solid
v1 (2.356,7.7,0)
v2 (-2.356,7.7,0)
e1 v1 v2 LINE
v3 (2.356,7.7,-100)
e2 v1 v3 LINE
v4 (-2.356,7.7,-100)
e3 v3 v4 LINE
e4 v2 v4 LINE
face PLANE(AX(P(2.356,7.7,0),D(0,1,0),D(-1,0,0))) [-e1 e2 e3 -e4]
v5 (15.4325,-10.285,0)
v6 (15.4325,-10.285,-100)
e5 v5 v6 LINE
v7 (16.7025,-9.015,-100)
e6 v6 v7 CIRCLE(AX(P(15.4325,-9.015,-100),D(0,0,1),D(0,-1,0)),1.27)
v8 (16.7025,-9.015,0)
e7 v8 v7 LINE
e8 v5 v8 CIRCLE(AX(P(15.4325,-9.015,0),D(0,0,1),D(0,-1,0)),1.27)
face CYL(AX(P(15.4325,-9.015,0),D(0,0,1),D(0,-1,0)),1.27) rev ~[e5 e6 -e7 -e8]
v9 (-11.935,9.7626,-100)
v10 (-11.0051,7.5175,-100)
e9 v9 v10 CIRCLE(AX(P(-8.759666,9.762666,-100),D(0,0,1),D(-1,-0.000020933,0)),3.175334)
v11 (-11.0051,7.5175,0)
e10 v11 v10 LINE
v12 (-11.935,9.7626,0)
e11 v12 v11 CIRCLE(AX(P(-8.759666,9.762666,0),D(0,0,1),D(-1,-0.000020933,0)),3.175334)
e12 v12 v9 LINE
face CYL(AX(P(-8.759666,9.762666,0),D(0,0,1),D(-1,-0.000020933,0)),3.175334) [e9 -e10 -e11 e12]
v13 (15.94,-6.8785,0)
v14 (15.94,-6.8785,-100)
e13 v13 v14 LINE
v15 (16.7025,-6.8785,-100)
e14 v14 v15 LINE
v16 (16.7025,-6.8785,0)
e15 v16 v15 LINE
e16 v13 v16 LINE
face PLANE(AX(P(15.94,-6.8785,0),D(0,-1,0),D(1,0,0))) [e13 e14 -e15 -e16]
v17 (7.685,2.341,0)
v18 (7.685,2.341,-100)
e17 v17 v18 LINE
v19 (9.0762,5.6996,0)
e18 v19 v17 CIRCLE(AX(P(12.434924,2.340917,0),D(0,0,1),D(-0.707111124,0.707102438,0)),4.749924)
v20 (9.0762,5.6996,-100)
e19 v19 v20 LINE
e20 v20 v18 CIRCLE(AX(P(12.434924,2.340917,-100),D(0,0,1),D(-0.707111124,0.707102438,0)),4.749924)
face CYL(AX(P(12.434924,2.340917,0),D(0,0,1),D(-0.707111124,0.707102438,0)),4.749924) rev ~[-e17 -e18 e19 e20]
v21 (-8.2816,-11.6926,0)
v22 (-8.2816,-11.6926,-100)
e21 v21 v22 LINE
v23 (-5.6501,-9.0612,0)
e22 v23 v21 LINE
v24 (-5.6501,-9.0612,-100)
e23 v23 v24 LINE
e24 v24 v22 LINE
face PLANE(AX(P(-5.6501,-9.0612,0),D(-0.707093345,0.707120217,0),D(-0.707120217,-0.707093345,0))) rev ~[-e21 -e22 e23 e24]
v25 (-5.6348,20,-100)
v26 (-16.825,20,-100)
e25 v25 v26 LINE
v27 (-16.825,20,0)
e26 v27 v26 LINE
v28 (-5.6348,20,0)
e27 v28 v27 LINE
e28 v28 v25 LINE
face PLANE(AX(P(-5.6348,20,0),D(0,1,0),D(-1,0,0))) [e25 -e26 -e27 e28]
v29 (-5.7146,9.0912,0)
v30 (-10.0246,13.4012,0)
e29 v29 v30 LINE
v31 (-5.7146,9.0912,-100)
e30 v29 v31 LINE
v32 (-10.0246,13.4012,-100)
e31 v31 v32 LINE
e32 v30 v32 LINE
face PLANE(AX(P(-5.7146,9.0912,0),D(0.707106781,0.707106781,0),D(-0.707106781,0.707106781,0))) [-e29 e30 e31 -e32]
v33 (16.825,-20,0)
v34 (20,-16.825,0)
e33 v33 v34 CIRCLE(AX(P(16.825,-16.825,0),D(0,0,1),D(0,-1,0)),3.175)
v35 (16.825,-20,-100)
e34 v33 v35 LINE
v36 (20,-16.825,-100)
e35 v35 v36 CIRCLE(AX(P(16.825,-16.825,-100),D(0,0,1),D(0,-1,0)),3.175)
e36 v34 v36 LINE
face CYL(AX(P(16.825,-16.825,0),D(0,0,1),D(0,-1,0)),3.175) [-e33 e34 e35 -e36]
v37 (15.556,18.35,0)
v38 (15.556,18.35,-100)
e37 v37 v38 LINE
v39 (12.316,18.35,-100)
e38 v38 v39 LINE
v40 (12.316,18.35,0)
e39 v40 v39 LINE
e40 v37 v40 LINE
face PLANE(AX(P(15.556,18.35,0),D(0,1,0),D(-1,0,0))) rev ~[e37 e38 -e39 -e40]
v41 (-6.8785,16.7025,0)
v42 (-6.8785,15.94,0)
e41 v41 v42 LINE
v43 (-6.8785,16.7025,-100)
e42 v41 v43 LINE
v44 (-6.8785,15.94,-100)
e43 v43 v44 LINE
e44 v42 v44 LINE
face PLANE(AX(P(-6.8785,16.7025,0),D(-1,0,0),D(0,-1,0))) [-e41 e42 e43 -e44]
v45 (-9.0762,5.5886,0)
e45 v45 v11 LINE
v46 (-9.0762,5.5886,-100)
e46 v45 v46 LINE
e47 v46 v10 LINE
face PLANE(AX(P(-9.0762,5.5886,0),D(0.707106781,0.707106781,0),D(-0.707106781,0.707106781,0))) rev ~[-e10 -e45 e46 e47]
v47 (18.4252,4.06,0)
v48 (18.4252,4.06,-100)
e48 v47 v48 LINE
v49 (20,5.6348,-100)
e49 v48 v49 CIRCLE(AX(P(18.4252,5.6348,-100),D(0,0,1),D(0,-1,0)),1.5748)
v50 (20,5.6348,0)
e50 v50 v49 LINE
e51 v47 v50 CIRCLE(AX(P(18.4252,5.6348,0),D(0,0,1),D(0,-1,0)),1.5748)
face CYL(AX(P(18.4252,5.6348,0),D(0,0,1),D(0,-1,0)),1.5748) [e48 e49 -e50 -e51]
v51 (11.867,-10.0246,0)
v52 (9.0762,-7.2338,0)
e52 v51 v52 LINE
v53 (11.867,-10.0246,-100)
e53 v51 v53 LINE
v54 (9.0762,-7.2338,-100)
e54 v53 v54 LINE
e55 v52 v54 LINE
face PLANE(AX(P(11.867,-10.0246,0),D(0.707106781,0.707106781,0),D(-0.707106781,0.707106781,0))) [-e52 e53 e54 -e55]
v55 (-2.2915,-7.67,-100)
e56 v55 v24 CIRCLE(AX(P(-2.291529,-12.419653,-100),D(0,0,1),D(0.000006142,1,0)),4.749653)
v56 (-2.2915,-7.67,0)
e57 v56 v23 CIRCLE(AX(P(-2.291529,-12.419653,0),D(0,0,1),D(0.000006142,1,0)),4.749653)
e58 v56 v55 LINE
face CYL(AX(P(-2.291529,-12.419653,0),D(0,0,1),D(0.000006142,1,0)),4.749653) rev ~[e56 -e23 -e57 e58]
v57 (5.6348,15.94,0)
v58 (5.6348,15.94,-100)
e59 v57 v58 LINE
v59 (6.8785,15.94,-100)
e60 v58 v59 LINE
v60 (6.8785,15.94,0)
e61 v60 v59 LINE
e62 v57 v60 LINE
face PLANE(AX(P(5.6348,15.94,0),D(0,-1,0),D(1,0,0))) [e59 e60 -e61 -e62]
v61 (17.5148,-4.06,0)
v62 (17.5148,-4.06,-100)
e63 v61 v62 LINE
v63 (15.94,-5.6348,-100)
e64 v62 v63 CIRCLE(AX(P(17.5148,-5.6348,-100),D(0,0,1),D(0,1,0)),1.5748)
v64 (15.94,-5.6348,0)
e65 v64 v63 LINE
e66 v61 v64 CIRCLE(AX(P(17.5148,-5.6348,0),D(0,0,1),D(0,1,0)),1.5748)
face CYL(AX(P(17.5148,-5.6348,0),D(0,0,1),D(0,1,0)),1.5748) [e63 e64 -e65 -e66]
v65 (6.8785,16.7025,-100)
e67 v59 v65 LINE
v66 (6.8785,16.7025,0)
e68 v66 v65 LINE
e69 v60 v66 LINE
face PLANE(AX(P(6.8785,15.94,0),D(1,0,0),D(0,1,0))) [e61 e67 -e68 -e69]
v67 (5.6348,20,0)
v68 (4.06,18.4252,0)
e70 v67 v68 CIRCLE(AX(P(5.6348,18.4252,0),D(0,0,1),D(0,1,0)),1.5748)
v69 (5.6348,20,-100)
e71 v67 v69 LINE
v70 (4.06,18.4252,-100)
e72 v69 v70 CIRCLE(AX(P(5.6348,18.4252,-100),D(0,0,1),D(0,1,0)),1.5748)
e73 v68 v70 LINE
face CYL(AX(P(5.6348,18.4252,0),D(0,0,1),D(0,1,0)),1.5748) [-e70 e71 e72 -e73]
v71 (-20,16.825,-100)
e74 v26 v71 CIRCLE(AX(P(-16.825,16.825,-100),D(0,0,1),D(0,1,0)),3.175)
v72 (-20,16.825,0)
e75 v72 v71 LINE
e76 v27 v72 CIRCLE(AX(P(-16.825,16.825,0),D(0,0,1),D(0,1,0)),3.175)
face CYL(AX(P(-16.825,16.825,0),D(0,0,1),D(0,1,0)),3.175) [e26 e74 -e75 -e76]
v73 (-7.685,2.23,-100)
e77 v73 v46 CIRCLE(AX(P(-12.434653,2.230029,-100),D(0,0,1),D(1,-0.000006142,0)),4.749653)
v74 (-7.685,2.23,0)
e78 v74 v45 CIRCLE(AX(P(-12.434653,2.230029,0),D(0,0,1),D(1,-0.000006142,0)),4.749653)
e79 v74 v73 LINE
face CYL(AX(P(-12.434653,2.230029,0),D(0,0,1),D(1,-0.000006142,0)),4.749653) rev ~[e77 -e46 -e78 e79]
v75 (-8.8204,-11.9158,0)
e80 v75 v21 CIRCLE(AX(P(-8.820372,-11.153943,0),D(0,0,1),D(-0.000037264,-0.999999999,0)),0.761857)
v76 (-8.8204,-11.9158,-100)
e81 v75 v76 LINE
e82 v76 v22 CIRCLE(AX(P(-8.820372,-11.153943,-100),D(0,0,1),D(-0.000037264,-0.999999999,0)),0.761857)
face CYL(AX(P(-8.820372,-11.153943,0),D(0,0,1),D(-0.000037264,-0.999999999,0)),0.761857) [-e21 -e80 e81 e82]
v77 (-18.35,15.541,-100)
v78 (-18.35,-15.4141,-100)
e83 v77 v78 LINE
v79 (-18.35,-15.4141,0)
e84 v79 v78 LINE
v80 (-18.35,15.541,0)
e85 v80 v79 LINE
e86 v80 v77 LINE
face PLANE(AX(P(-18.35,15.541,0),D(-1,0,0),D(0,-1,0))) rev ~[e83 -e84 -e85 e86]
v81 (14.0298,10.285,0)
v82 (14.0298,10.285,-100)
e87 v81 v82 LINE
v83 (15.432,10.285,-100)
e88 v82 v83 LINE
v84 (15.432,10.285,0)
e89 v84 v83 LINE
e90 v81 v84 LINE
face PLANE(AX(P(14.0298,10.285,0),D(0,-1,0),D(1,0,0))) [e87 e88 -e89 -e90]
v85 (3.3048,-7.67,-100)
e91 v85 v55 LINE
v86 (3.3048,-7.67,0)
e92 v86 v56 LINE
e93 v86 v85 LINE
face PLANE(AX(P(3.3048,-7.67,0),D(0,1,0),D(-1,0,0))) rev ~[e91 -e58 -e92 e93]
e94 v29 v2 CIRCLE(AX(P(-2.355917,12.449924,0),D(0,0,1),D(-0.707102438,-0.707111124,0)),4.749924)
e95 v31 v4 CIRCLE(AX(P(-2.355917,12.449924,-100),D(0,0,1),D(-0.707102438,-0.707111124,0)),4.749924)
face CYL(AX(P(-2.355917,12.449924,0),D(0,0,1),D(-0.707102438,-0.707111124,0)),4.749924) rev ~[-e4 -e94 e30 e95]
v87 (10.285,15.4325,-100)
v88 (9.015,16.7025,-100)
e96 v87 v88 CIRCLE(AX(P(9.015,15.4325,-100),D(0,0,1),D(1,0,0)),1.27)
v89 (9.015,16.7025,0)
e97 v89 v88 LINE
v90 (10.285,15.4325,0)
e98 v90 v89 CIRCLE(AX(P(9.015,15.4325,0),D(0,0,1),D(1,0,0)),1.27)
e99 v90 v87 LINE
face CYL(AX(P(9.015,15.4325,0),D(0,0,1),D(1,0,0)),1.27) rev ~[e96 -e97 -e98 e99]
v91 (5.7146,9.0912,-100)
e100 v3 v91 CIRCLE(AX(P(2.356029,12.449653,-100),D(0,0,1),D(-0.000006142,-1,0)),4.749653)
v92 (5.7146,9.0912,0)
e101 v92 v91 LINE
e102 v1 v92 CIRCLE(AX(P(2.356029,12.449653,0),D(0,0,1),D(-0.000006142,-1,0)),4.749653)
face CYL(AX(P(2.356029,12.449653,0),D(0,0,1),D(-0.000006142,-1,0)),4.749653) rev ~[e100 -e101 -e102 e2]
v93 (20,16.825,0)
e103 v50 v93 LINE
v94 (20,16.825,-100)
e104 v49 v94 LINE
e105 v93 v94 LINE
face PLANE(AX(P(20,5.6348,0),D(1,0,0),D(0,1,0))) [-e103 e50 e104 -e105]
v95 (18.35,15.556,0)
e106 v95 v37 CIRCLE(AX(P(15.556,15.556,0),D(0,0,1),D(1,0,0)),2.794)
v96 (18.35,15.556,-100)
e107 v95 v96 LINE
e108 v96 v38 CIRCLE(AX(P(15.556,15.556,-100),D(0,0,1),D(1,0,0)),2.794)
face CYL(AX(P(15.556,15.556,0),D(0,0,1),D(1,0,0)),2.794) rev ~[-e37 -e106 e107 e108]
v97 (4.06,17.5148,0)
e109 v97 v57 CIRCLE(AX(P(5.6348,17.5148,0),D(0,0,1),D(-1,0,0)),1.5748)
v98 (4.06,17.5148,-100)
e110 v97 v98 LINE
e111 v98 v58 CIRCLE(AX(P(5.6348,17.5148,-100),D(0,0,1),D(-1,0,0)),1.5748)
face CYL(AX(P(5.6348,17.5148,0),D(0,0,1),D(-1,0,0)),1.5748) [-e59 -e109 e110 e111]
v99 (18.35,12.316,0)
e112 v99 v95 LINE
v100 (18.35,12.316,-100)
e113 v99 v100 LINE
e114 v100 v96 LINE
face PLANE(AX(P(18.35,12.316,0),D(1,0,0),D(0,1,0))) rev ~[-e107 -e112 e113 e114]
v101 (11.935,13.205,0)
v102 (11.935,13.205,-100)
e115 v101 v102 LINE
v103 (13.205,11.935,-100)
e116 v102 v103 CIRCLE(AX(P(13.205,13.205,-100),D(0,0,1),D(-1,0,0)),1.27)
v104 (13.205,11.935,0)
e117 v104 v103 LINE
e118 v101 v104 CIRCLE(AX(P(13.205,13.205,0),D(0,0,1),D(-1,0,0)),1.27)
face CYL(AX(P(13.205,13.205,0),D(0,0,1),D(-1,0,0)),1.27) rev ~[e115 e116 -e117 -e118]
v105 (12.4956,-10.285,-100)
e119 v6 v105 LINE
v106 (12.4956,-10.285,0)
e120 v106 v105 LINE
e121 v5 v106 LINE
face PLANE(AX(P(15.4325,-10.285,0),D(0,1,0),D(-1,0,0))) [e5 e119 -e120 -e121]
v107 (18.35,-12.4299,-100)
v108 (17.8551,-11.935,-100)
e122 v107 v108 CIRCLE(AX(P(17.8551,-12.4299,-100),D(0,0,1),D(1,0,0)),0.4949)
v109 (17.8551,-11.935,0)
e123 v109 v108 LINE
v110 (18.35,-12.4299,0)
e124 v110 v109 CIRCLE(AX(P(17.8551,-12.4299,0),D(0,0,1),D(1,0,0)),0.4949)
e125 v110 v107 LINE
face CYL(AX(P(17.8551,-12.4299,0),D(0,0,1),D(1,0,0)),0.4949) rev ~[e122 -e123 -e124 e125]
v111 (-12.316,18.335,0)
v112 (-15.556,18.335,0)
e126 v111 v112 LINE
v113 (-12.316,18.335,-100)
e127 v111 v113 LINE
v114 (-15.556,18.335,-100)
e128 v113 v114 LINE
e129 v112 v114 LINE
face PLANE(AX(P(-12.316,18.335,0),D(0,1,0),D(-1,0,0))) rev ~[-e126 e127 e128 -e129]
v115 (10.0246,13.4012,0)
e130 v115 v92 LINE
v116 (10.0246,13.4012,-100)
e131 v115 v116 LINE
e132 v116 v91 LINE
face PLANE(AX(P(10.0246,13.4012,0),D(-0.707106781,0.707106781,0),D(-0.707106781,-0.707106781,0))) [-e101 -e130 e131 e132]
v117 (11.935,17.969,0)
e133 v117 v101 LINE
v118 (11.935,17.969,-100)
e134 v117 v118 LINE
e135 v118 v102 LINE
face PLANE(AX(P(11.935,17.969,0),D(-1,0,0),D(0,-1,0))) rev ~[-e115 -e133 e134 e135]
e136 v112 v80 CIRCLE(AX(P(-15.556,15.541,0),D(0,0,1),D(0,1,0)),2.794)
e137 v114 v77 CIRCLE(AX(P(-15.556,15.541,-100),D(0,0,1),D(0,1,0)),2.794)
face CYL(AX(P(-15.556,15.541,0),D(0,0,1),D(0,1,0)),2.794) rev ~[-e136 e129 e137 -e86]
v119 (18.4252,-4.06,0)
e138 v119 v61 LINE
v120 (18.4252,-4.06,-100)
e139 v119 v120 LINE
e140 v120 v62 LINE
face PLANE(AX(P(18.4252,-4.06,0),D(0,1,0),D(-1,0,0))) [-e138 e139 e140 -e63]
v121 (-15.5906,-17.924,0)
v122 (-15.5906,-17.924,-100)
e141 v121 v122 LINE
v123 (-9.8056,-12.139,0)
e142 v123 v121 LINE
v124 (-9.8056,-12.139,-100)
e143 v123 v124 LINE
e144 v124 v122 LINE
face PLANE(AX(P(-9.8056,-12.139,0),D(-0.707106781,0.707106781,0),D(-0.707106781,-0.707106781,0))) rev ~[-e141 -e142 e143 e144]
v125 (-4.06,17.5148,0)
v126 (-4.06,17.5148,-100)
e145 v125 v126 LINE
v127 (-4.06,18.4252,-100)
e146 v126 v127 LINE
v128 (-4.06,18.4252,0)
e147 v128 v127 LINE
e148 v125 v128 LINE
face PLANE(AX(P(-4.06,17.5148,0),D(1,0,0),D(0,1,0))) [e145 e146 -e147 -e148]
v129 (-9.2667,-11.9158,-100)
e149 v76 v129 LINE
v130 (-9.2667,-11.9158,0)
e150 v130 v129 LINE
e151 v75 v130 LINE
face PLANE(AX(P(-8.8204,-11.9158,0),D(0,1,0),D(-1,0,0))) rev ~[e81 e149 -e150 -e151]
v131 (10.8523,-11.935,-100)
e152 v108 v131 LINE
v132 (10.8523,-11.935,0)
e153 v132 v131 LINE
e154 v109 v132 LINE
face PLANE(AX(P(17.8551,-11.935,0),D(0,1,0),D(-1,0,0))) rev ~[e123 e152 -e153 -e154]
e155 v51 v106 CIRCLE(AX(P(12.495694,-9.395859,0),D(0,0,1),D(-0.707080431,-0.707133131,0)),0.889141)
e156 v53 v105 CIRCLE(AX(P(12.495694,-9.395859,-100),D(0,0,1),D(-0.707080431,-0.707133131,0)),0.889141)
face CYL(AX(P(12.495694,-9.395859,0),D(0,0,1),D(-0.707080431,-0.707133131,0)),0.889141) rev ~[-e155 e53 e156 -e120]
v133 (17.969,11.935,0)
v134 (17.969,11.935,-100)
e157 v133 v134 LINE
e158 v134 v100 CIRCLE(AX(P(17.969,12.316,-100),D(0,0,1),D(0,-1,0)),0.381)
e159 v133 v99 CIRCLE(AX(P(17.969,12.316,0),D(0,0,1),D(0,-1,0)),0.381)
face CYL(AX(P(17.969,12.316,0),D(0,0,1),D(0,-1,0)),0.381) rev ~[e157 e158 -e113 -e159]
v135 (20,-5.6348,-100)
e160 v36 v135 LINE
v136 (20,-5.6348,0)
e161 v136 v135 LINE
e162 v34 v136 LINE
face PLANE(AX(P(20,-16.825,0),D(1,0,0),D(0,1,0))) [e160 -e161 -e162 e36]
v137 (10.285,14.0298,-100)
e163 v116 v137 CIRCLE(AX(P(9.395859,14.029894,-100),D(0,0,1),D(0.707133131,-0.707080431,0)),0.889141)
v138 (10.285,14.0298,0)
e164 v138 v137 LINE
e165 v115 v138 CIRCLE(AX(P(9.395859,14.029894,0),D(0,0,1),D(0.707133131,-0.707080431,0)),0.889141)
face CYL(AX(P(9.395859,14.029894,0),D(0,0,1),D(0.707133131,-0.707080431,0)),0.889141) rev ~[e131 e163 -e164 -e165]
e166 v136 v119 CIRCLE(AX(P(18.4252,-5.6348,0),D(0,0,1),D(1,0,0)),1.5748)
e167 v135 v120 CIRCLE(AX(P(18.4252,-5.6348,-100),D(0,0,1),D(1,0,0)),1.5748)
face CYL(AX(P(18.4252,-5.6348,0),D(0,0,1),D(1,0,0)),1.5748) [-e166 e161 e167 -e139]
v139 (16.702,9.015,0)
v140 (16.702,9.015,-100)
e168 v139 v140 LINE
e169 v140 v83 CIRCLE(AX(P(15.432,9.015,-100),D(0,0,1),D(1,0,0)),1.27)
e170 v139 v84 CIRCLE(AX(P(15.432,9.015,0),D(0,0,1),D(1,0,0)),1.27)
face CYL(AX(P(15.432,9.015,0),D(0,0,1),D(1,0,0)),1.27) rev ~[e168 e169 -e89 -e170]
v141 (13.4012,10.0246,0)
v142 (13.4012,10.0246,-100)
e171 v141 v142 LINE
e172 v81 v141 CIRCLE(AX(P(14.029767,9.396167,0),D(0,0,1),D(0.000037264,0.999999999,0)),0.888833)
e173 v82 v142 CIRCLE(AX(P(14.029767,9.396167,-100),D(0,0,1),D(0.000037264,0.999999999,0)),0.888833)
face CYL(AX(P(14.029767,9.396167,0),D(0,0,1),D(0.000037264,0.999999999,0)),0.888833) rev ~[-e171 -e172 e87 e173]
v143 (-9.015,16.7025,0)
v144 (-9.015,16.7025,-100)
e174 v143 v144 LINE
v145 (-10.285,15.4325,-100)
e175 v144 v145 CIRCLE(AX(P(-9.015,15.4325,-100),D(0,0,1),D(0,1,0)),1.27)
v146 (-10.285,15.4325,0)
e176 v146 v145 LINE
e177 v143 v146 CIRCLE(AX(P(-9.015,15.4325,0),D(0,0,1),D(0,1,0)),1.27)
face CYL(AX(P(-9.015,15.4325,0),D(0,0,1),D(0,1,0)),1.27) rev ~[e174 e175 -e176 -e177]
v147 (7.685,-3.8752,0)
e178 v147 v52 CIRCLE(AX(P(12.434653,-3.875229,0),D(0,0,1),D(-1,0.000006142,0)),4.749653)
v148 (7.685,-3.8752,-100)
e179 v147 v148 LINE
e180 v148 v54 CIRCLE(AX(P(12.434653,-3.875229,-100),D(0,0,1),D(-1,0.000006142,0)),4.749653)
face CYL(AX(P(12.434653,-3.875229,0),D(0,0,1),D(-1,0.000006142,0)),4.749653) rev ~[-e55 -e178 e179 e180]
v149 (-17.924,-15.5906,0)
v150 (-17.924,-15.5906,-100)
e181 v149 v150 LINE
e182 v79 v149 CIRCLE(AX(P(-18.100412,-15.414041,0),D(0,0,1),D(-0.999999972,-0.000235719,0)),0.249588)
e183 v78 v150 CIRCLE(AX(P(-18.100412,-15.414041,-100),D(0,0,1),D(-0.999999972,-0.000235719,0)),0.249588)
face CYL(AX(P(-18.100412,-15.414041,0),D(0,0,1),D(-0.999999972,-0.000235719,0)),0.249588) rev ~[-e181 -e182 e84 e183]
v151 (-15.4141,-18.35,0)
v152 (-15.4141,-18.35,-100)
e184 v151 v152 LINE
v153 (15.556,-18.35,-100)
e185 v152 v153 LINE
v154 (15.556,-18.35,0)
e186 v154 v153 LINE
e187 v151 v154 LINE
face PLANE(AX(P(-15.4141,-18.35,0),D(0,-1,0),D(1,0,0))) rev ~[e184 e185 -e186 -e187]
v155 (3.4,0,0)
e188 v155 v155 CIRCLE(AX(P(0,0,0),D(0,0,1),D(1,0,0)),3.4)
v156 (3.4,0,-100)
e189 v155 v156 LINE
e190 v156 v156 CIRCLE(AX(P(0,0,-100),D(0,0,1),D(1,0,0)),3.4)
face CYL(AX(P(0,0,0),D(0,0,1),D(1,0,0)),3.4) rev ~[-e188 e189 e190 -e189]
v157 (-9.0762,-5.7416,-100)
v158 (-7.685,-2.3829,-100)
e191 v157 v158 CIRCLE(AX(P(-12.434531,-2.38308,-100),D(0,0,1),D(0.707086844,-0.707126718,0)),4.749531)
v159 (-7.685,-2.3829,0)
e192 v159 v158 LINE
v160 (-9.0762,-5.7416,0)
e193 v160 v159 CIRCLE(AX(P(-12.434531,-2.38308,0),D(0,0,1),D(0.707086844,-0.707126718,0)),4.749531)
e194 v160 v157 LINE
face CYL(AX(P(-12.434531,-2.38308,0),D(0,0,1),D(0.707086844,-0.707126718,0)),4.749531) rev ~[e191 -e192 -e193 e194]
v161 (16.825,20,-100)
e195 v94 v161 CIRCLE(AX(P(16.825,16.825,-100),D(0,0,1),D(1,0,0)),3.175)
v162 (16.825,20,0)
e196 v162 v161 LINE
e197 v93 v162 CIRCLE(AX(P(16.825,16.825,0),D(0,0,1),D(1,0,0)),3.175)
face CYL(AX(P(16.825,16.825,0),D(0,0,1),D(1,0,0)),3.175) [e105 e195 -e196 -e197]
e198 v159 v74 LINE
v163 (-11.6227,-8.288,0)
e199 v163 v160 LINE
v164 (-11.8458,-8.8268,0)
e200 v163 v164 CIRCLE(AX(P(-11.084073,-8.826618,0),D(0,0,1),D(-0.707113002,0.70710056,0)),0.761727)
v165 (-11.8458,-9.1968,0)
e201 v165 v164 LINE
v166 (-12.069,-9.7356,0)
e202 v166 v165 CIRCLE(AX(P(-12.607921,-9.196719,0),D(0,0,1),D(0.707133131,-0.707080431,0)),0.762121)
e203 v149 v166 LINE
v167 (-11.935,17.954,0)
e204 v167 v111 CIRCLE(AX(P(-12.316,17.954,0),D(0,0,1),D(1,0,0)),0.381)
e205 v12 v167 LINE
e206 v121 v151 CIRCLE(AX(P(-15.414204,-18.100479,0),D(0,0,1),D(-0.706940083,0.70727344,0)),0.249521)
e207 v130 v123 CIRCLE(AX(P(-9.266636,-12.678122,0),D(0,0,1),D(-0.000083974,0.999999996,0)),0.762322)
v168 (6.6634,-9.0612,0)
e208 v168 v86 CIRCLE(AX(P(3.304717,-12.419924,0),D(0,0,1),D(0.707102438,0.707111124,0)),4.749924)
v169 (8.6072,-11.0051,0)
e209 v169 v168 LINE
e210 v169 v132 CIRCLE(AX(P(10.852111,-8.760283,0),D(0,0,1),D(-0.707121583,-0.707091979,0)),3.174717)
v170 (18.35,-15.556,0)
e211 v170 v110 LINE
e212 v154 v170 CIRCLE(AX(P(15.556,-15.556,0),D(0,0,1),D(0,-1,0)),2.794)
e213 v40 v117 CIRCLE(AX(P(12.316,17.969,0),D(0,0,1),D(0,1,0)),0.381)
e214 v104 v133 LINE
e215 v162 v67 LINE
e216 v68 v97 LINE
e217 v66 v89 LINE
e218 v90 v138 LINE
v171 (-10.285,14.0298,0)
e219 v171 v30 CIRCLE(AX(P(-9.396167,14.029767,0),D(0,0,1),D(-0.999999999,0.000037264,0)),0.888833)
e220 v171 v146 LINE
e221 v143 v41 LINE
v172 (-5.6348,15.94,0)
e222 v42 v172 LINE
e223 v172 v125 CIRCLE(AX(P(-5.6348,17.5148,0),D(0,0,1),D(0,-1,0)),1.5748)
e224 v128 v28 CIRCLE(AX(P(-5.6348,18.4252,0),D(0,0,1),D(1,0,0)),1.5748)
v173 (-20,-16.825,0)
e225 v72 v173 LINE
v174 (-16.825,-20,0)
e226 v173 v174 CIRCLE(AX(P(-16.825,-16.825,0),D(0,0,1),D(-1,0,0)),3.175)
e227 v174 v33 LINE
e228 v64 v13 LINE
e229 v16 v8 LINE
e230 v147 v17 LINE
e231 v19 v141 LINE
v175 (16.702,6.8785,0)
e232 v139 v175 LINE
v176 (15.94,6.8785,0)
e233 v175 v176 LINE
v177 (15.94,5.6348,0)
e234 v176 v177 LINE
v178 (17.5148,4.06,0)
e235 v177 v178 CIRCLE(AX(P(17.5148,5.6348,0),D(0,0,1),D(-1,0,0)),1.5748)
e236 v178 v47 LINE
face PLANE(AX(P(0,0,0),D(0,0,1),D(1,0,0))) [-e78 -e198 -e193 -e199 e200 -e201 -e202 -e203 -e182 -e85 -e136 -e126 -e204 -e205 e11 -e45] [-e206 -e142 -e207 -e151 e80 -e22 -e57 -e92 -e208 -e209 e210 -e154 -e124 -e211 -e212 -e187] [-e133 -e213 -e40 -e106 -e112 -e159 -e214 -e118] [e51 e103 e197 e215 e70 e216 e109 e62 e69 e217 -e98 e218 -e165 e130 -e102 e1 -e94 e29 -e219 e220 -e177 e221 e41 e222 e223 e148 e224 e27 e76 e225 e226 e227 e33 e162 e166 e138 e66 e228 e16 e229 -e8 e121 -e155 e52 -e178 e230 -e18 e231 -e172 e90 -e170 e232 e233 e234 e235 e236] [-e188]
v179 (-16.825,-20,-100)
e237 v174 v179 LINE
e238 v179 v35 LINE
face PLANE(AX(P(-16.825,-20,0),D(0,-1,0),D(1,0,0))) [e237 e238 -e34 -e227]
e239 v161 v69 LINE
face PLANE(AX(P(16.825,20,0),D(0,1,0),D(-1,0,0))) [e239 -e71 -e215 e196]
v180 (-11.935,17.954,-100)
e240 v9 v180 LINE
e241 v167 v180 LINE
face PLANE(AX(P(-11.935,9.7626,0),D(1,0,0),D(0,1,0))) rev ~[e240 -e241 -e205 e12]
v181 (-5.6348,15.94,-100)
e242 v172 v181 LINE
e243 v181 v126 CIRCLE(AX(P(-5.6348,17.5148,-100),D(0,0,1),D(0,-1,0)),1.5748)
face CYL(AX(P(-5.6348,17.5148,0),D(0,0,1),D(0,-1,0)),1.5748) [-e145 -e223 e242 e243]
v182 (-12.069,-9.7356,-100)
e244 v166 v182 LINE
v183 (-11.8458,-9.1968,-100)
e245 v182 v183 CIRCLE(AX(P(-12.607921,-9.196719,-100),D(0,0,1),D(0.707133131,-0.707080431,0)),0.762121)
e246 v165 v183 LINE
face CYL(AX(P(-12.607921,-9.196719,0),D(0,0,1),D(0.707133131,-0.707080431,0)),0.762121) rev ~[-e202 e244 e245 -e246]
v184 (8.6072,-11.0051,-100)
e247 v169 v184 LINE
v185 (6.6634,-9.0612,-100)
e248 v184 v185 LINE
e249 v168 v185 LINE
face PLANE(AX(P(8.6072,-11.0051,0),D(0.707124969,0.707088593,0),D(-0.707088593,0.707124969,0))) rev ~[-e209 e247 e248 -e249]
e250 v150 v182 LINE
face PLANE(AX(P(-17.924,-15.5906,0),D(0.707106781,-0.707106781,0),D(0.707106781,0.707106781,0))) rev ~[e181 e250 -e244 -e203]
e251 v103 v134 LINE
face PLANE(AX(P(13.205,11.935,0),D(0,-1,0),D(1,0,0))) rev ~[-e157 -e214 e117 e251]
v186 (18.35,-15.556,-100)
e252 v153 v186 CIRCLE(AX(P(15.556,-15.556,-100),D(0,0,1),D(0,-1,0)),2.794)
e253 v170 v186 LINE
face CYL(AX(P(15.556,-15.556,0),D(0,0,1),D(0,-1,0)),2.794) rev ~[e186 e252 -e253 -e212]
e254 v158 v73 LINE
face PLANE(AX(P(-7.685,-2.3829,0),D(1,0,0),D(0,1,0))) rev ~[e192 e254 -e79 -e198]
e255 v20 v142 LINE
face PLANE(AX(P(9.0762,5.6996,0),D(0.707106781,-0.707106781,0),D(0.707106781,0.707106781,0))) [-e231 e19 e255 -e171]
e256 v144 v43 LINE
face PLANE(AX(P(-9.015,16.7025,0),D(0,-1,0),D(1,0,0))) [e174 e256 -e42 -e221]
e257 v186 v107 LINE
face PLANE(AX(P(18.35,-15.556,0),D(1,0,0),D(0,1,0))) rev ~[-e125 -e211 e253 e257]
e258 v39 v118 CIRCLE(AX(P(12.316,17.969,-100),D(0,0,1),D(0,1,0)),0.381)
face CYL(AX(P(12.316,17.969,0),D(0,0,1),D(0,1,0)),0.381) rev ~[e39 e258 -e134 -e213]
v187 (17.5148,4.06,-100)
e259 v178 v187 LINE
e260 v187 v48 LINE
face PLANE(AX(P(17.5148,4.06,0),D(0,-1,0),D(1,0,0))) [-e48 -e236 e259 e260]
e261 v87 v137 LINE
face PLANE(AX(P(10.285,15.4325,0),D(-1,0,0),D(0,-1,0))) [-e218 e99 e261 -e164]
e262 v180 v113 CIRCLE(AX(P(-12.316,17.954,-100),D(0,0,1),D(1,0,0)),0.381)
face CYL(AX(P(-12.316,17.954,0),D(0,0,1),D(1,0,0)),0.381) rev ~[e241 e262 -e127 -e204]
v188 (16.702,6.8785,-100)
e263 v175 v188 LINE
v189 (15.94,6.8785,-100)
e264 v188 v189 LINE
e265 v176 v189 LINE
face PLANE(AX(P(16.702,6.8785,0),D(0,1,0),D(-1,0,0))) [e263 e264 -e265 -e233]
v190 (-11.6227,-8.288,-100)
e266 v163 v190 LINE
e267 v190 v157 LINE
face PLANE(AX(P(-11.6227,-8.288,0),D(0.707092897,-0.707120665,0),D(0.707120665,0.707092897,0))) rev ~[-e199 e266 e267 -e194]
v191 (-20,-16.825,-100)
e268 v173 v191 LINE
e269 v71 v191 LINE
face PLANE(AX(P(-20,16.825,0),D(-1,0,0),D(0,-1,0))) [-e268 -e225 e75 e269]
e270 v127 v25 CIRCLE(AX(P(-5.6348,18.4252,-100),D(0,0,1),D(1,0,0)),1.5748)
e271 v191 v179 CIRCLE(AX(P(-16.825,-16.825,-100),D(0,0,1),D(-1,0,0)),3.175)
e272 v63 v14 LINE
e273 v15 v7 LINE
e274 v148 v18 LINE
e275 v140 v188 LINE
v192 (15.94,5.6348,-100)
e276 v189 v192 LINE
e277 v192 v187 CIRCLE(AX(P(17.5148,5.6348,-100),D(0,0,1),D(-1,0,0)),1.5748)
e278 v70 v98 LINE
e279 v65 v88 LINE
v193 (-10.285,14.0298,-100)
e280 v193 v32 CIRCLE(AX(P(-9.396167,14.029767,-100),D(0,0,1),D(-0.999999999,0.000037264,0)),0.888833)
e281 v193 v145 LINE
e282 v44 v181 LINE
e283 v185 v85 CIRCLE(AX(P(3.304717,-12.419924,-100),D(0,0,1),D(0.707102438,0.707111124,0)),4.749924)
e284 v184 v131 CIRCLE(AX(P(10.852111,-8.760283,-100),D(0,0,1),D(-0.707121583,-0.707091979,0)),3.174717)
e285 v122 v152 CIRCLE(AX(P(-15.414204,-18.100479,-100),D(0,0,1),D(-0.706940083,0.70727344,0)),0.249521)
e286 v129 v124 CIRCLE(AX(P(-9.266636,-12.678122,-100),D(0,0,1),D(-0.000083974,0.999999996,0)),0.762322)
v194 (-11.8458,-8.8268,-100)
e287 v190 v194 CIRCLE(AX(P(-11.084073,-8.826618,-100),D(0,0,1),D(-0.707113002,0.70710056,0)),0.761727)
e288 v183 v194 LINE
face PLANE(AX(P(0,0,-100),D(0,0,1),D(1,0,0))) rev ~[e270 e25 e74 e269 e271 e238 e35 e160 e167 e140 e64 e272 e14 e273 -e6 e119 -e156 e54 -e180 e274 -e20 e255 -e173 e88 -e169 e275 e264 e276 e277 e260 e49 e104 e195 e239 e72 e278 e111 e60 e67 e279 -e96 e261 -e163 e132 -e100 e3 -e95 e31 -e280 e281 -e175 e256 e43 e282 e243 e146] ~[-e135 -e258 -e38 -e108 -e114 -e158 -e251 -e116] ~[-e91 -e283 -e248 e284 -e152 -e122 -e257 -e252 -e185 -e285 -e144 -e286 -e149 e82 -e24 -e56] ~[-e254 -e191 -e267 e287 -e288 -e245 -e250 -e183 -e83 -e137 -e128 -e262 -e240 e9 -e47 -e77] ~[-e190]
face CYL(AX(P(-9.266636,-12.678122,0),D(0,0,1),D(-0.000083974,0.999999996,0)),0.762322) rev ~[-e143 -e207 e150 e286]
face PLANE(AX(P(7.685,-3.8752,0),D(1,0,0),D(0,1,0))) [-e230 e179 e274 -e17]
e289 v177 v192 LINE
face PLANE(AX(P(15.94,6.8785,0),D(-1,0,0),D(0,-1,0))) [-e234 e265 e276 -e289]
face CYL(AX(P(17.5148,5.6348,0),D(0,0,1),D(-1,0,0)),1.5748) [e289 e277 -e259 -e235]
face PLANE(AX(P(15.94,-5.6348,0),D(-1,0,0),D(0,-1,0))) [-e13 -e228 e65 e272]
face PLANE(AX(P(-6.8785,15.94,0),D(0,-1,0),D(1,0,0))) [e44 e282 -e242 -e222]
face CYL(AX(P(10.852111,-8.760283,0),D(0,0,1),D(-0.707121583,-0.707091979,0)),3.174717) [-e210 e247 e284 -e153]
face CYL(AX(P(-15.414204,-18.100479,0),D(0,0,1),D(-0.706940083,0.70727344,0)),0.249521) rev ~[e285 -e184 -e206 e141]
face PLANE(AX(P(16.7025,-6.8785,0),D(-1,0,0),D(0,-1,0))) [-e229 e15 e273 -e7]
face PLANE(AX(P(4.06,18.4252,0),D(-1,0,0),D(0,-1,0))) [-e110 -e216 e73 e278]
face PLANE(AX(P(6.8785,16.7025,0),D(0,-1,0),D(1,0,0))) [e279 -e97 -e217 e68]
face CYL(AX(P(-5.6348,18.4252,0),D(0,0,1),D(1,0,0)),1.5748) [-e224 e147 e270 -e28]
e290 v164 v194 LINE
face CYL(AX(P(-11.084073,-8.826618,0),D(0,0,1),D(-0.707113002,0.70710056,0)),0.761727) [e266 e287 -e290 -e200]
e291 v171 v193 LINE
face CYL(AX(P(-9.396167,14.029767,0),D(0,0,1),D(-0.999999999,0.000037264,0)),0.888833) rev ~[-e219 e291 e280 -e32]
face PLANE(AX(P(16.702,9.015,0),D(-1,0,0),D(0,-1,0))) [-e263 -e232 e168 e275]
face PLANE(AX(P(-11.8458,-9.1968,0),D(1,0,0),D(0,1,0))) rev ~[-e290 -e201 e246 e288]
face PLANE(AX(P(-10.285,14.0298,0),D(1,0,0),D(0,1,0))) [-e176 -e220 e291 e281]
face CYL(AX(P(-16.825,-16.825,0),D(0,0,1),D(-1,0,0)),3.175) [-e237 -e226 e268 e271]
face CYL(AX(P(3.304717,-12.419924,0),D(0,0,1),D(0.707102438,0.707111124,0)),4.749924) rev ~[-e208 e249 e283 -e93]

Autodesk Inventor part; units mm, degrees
ref_plane "YZ Plane" through (0, 0, 0) normal (1, 0, 0) x (0, 1, 0)
ref_plane "XZ Plane" through (0, 0, 0) normal (0, 1, 0) x (-1, 0, 0)
ref_plane "XY Plane" through (0, 0, 0) normal (0, 0, 1) x (1, 0, 0)
sketch "Sketch1" plane through (0, 0, 0) normal (0, 0, 1) x (1, 0, 0)
  arc A0 (17.969, 11.935) -> (18.35, 12.316) centre (17.969, 12.316) ccw
  line L0 (13.205, 11.935) -> (17.969, 11.935)
  arc A1 (11.935, 13.205) -> (13.205, 11.935) centre (13.205, 13.205) ccw
  line L1 (11.935, 17.969) -> (11.935, 13.205)
  arc A2 (12.316, 18.35) -> (11.935, 17.969) centre (12.316, 17.969) ccw
  line L2 (15.556, 18.35) -> (12.316, 18.35)
  arc A3 (18.35, 15.556) -> (15.556, 18.35) centre (15.556, 15.556) ccw
  line L3 (18.35, 12.316) -> (18.35, 15.556)
  circle A4 centre (0, 0) radius 3.4
  arc A5 (-9.0762, -5.7416) -> (-7.685, -2.3829) centre (-12.4348, -2.3829) ccw
  line L4 (-11.6227, -8.288) -> (-9.0762, -5.7416)
  arc A6 (-11.6227, -8.288) -> (-11.8458, -8.8268) centre (-11.0838, -8.8268) ccw
  line L5 (-11.8458, -9.1968) -> (-11.8458, -8.8268)
  arc A7 (-12.069, -9.7356) -> (-11.8458, -9.1968) centre (-12.6078, -9.1968) ccw
  line L6 (-17.924, -15.5906) -> (-12.069, -9.7356)
  arc A8 (-18.35, -15.4141) -> (-17.924, -15.5906) centre (-18.1005, -15.4141) ccw
  line L7 (-18.35, 15.541) -> (-18.35, -15.4141)
  arc A9 (-15.556, 18.335) -> (-18.35, 15.541) centre (-15.556, 15.541) ccw
  line L8 (-12.316, 18.335) -> (-15.556, 18.335)
  arc A10 (-11.935, 17.954) -> (-12.316, 18.335) centre (-12.316, 17.954) ccw
  line L9 (-11.935, 9.7626) -> (-11.935, 17.954)
  arc A11 (-11.935, 9.7626) -> (-11.0051, 7.5175) centre (-8.76, 9.7626) ccw
  line L10 (-9.0762, 5.5886) -> (-11.0051, 7.5175)
  arc A12 (-7.685, 2.23) -> (-9.0762, 5.5886) centre (-12.4348, 2.23) ccw
  line L11 (-7.685, -2.3829) -> (-7.685, 2.23)
  line L12 (-15.4141, -18.35) -> (15.556, -18.35)
  arc A13 (-15.5906, -17.924) -> (-15.4141, -18.35) centre (-15.4141, -18.1005) ccw
  line L13 (-9.8056, -12.139) -> (-15.5906, -17.924)
  arc A14 (-9.2667, -11.9158) -> (-9.8056, -12.139) centre (-9.2667, -12.6778) ccw
  line L14 (-8.8204, -11.9158) -> (-9.2667, -11.9158)
  arc A15 (-8.8204, -11.9158) -> (-8.2816, -11.6926) centre (-8.8204, -11.1538) ccw
  line L15 (-5.6501, -9.0612) -> (-8.2816, -11.6926)
  arc A16 (-2.2915, -7.67) -> (-5.6501, -9.0612) centre (-2.2915, -12.4198) ccw
  line L16 (3.3048, -7.67) -> (-2.2915, -7.67)
  arc A17 (6.6634, -9.0612) -> (3.3048, -7.67) centre (3.3048, -12.4198) ccw
  line L17 (8.6072, -11.0051) -> (6.6634, -9.0612)
  arc A18 (8.6072, -11.0051) -> (10.8523, -11.935) centre (10.8523, -8.76) ccw
  line L18 (17.8551, -11.935) -> (10.8523, -11.935)
  arc A19 (18.35, -12.4299) -> (17.8551, -11.935) centre (17.8551, -12.4299) ccw
  line L19 (18.35, -15.556) -> (18.35, -12.4299)
  arc A20 (15.556, -18.35) -> (18.35, -15.556) centre (15.556, -15.556) ccw
  line L20 (-16.825, -20) -> (16.825, -20)
  arc A21 (16.825, -20) -> (20, -16.825) centre (16.825, -16.825) ccw
  line L21 (20, -16.825) -> (20, -5.6348)
  arc A22 (20, -5.6348) -> (18.4252, -4.06) centre (18.4252, -5.6348) ccw
  line L22 (18.4252, -4.06) -> (17.5148, -4.06)
  arc A23 (17.5148, -4.06) -> (15.94, -5.6348) centre (17.5148, -5.6348) ccw
  line L23 (15.94, -5.6348) -> (15.94, -6.8785)
  line L24 (15.94, -6.8785) -> (16.7025, -6.8785)
  line L25 (16.7025, -6.8785) -> (16.7025, -9.015)
  arc A24 (15.4325, -10.285) -> (16.7025, -9.015) centre (15.4325, -9.015) ccw
  line L26 (15.4325, -10.285) -> (12.4956, -10.285)
  arc A25 (11.867, -10.0246) -> (12.4956, -10.285) centre (12.4956, -9.396) ccw
  line L27 (11.867, -10.0246) -> (9.0762, -7.2338)
  arc A26 (7.685, -3.8752) -> (9.0762, -7.2338) centre (12.4348, -3.8752) ccw
  line L28 (7.685, -3.8752) -> (7.685, 2.341)
  arc A27 (9.0762, 5.6996) -> (7.685, 2.341) centre (12.4348, 2.341) ccw
  line L29 (9.0762, 5.6996) -> (13.4012, 10.0246)
  arc A28 (14.0298, 10.285) -> (13.4012, 10.0246) centre (14.0298, 9.396) ccw
  line L30 (14.0298, 10.285) -> (15.432, 10.285)
  arc A29 (16.702, 9.015) -> (15.432, 10.285) centre (15.432, 9.015) ccw
  line L31 (16.702, 9.015) -> (16.702, 6.8785)
  line L32 (16.702, 6.8785) -> (15.94, 6.8785)
  line L33 (15.94, 6.8785) -> (15.94, 5.6348)
  arc A30 (15.94, 5.6348) -> (17.5148, 4.06) centre (17.5148, 5.6348) ccw
  line L34 (17.5148, 4.06) -> (18.4252, 4.06)
  arc A31 (18.4252, 4.06) -> (20, 5.6348) centre (18.4252, 5.6348) ccw
  line L35 (20, 5.6348) -> (20, 16.825)
  arc A32 (20, 16.825) -> (16.825, 20) centre (16.825, 16.825) ccw
  line L36 (16.825, 20) -> (5.6348, 20)
  arc A33 (5.6348, 20) -> (4.06, 18.4252) centre (5.6348, 18.4252) ccw
  line L37 (4.06, 18.4252) -> (4.06, 17.5148)
  arc A34 (4.06, 17.5148) -> (5.6348, 15.94) centre (5.6348, 17.5148) ccw
  line L38 (5.6348, 15.94) -> (6.8785, 15.94)
  line L39 (6.8785, 15.94) -> (6.8785, 16.7025)
  line L40 (6.8785, 16.7025) -> (9.015, 16.7025)
  arc A35 (10.285, 15.4325) -> (9.015, 16.7025) centre (9.015, 15.4325) ccw
  line L41 (10.285, 15.4325) -> (10.285, 14.0298)
  arc A36 (10.0246, 13.4012) -> (10.285, 14.0298) centre (9.396, 14.0298) ccw
  line L42 (10.0246, 13.4012) -> (5.7146, 9.0912)
  arc A37 (2.356, 7.7) -> (5.7146, 9.0912) centre (2.356, 12.4498) ccw
  line L43 (2.356, 7.7) -> (-2.356, 7.7)
  arc A38 (-5.7146, 9.0912) -> (-2.356, 7.7) centre (-2.356, 12.4498) ccw
  line L44 (-5.7146, 9.0912) -> (-10.0246, 13.4012)
  arc A39 (-10.285, 14.0298) -> (-10.0246, 13.4012) centre (-9.396, 14.0298) ccw
  line L45 (-10.285, 14.0298) -> (-10.285, 15.4325)
  arc A40 (-9.015, 16.7025) -> (-10.285, 15.4325) centre (-9.015, 15.4325) ccw
  line L46 (-9.015, 16.7025) -> (-6.8785, 16.7025)
  line L47 (-6.8785, 16.7025) -> (-6.8785, 15.94)
  line L48 (-6.8785, 15.94) -> (-5.6348, 15.94)
  arc A41 (-5.6348, 15.94) -> (-4.06, 17.5148) centre (-5.6348, 17.5148) ccw
  line L49 (-4.06, 17.5148) -> (-4.06, 18.4252)
  arc A42 (-4.06, 18.4252) -> (-5.6348, 20) centre (-5.6348, 18.4252) ccw
  line L50 (-5.6348, 20) -> (-16.825, 20)
  arc A43 (-16.825, 20) -> (-20, 16.825) centre (-16.825, 16.825) ccw
  line L51 (-20, 16.825) -> (-20, -16.825)
  arc A44 (-20, -16.825) -> (-16.825, -20) centre (-16.825, -16.825) ccw
extrude "Extrusion1" add sketch "Sketch1" against normal blind 100
properties part number "40-4002"
